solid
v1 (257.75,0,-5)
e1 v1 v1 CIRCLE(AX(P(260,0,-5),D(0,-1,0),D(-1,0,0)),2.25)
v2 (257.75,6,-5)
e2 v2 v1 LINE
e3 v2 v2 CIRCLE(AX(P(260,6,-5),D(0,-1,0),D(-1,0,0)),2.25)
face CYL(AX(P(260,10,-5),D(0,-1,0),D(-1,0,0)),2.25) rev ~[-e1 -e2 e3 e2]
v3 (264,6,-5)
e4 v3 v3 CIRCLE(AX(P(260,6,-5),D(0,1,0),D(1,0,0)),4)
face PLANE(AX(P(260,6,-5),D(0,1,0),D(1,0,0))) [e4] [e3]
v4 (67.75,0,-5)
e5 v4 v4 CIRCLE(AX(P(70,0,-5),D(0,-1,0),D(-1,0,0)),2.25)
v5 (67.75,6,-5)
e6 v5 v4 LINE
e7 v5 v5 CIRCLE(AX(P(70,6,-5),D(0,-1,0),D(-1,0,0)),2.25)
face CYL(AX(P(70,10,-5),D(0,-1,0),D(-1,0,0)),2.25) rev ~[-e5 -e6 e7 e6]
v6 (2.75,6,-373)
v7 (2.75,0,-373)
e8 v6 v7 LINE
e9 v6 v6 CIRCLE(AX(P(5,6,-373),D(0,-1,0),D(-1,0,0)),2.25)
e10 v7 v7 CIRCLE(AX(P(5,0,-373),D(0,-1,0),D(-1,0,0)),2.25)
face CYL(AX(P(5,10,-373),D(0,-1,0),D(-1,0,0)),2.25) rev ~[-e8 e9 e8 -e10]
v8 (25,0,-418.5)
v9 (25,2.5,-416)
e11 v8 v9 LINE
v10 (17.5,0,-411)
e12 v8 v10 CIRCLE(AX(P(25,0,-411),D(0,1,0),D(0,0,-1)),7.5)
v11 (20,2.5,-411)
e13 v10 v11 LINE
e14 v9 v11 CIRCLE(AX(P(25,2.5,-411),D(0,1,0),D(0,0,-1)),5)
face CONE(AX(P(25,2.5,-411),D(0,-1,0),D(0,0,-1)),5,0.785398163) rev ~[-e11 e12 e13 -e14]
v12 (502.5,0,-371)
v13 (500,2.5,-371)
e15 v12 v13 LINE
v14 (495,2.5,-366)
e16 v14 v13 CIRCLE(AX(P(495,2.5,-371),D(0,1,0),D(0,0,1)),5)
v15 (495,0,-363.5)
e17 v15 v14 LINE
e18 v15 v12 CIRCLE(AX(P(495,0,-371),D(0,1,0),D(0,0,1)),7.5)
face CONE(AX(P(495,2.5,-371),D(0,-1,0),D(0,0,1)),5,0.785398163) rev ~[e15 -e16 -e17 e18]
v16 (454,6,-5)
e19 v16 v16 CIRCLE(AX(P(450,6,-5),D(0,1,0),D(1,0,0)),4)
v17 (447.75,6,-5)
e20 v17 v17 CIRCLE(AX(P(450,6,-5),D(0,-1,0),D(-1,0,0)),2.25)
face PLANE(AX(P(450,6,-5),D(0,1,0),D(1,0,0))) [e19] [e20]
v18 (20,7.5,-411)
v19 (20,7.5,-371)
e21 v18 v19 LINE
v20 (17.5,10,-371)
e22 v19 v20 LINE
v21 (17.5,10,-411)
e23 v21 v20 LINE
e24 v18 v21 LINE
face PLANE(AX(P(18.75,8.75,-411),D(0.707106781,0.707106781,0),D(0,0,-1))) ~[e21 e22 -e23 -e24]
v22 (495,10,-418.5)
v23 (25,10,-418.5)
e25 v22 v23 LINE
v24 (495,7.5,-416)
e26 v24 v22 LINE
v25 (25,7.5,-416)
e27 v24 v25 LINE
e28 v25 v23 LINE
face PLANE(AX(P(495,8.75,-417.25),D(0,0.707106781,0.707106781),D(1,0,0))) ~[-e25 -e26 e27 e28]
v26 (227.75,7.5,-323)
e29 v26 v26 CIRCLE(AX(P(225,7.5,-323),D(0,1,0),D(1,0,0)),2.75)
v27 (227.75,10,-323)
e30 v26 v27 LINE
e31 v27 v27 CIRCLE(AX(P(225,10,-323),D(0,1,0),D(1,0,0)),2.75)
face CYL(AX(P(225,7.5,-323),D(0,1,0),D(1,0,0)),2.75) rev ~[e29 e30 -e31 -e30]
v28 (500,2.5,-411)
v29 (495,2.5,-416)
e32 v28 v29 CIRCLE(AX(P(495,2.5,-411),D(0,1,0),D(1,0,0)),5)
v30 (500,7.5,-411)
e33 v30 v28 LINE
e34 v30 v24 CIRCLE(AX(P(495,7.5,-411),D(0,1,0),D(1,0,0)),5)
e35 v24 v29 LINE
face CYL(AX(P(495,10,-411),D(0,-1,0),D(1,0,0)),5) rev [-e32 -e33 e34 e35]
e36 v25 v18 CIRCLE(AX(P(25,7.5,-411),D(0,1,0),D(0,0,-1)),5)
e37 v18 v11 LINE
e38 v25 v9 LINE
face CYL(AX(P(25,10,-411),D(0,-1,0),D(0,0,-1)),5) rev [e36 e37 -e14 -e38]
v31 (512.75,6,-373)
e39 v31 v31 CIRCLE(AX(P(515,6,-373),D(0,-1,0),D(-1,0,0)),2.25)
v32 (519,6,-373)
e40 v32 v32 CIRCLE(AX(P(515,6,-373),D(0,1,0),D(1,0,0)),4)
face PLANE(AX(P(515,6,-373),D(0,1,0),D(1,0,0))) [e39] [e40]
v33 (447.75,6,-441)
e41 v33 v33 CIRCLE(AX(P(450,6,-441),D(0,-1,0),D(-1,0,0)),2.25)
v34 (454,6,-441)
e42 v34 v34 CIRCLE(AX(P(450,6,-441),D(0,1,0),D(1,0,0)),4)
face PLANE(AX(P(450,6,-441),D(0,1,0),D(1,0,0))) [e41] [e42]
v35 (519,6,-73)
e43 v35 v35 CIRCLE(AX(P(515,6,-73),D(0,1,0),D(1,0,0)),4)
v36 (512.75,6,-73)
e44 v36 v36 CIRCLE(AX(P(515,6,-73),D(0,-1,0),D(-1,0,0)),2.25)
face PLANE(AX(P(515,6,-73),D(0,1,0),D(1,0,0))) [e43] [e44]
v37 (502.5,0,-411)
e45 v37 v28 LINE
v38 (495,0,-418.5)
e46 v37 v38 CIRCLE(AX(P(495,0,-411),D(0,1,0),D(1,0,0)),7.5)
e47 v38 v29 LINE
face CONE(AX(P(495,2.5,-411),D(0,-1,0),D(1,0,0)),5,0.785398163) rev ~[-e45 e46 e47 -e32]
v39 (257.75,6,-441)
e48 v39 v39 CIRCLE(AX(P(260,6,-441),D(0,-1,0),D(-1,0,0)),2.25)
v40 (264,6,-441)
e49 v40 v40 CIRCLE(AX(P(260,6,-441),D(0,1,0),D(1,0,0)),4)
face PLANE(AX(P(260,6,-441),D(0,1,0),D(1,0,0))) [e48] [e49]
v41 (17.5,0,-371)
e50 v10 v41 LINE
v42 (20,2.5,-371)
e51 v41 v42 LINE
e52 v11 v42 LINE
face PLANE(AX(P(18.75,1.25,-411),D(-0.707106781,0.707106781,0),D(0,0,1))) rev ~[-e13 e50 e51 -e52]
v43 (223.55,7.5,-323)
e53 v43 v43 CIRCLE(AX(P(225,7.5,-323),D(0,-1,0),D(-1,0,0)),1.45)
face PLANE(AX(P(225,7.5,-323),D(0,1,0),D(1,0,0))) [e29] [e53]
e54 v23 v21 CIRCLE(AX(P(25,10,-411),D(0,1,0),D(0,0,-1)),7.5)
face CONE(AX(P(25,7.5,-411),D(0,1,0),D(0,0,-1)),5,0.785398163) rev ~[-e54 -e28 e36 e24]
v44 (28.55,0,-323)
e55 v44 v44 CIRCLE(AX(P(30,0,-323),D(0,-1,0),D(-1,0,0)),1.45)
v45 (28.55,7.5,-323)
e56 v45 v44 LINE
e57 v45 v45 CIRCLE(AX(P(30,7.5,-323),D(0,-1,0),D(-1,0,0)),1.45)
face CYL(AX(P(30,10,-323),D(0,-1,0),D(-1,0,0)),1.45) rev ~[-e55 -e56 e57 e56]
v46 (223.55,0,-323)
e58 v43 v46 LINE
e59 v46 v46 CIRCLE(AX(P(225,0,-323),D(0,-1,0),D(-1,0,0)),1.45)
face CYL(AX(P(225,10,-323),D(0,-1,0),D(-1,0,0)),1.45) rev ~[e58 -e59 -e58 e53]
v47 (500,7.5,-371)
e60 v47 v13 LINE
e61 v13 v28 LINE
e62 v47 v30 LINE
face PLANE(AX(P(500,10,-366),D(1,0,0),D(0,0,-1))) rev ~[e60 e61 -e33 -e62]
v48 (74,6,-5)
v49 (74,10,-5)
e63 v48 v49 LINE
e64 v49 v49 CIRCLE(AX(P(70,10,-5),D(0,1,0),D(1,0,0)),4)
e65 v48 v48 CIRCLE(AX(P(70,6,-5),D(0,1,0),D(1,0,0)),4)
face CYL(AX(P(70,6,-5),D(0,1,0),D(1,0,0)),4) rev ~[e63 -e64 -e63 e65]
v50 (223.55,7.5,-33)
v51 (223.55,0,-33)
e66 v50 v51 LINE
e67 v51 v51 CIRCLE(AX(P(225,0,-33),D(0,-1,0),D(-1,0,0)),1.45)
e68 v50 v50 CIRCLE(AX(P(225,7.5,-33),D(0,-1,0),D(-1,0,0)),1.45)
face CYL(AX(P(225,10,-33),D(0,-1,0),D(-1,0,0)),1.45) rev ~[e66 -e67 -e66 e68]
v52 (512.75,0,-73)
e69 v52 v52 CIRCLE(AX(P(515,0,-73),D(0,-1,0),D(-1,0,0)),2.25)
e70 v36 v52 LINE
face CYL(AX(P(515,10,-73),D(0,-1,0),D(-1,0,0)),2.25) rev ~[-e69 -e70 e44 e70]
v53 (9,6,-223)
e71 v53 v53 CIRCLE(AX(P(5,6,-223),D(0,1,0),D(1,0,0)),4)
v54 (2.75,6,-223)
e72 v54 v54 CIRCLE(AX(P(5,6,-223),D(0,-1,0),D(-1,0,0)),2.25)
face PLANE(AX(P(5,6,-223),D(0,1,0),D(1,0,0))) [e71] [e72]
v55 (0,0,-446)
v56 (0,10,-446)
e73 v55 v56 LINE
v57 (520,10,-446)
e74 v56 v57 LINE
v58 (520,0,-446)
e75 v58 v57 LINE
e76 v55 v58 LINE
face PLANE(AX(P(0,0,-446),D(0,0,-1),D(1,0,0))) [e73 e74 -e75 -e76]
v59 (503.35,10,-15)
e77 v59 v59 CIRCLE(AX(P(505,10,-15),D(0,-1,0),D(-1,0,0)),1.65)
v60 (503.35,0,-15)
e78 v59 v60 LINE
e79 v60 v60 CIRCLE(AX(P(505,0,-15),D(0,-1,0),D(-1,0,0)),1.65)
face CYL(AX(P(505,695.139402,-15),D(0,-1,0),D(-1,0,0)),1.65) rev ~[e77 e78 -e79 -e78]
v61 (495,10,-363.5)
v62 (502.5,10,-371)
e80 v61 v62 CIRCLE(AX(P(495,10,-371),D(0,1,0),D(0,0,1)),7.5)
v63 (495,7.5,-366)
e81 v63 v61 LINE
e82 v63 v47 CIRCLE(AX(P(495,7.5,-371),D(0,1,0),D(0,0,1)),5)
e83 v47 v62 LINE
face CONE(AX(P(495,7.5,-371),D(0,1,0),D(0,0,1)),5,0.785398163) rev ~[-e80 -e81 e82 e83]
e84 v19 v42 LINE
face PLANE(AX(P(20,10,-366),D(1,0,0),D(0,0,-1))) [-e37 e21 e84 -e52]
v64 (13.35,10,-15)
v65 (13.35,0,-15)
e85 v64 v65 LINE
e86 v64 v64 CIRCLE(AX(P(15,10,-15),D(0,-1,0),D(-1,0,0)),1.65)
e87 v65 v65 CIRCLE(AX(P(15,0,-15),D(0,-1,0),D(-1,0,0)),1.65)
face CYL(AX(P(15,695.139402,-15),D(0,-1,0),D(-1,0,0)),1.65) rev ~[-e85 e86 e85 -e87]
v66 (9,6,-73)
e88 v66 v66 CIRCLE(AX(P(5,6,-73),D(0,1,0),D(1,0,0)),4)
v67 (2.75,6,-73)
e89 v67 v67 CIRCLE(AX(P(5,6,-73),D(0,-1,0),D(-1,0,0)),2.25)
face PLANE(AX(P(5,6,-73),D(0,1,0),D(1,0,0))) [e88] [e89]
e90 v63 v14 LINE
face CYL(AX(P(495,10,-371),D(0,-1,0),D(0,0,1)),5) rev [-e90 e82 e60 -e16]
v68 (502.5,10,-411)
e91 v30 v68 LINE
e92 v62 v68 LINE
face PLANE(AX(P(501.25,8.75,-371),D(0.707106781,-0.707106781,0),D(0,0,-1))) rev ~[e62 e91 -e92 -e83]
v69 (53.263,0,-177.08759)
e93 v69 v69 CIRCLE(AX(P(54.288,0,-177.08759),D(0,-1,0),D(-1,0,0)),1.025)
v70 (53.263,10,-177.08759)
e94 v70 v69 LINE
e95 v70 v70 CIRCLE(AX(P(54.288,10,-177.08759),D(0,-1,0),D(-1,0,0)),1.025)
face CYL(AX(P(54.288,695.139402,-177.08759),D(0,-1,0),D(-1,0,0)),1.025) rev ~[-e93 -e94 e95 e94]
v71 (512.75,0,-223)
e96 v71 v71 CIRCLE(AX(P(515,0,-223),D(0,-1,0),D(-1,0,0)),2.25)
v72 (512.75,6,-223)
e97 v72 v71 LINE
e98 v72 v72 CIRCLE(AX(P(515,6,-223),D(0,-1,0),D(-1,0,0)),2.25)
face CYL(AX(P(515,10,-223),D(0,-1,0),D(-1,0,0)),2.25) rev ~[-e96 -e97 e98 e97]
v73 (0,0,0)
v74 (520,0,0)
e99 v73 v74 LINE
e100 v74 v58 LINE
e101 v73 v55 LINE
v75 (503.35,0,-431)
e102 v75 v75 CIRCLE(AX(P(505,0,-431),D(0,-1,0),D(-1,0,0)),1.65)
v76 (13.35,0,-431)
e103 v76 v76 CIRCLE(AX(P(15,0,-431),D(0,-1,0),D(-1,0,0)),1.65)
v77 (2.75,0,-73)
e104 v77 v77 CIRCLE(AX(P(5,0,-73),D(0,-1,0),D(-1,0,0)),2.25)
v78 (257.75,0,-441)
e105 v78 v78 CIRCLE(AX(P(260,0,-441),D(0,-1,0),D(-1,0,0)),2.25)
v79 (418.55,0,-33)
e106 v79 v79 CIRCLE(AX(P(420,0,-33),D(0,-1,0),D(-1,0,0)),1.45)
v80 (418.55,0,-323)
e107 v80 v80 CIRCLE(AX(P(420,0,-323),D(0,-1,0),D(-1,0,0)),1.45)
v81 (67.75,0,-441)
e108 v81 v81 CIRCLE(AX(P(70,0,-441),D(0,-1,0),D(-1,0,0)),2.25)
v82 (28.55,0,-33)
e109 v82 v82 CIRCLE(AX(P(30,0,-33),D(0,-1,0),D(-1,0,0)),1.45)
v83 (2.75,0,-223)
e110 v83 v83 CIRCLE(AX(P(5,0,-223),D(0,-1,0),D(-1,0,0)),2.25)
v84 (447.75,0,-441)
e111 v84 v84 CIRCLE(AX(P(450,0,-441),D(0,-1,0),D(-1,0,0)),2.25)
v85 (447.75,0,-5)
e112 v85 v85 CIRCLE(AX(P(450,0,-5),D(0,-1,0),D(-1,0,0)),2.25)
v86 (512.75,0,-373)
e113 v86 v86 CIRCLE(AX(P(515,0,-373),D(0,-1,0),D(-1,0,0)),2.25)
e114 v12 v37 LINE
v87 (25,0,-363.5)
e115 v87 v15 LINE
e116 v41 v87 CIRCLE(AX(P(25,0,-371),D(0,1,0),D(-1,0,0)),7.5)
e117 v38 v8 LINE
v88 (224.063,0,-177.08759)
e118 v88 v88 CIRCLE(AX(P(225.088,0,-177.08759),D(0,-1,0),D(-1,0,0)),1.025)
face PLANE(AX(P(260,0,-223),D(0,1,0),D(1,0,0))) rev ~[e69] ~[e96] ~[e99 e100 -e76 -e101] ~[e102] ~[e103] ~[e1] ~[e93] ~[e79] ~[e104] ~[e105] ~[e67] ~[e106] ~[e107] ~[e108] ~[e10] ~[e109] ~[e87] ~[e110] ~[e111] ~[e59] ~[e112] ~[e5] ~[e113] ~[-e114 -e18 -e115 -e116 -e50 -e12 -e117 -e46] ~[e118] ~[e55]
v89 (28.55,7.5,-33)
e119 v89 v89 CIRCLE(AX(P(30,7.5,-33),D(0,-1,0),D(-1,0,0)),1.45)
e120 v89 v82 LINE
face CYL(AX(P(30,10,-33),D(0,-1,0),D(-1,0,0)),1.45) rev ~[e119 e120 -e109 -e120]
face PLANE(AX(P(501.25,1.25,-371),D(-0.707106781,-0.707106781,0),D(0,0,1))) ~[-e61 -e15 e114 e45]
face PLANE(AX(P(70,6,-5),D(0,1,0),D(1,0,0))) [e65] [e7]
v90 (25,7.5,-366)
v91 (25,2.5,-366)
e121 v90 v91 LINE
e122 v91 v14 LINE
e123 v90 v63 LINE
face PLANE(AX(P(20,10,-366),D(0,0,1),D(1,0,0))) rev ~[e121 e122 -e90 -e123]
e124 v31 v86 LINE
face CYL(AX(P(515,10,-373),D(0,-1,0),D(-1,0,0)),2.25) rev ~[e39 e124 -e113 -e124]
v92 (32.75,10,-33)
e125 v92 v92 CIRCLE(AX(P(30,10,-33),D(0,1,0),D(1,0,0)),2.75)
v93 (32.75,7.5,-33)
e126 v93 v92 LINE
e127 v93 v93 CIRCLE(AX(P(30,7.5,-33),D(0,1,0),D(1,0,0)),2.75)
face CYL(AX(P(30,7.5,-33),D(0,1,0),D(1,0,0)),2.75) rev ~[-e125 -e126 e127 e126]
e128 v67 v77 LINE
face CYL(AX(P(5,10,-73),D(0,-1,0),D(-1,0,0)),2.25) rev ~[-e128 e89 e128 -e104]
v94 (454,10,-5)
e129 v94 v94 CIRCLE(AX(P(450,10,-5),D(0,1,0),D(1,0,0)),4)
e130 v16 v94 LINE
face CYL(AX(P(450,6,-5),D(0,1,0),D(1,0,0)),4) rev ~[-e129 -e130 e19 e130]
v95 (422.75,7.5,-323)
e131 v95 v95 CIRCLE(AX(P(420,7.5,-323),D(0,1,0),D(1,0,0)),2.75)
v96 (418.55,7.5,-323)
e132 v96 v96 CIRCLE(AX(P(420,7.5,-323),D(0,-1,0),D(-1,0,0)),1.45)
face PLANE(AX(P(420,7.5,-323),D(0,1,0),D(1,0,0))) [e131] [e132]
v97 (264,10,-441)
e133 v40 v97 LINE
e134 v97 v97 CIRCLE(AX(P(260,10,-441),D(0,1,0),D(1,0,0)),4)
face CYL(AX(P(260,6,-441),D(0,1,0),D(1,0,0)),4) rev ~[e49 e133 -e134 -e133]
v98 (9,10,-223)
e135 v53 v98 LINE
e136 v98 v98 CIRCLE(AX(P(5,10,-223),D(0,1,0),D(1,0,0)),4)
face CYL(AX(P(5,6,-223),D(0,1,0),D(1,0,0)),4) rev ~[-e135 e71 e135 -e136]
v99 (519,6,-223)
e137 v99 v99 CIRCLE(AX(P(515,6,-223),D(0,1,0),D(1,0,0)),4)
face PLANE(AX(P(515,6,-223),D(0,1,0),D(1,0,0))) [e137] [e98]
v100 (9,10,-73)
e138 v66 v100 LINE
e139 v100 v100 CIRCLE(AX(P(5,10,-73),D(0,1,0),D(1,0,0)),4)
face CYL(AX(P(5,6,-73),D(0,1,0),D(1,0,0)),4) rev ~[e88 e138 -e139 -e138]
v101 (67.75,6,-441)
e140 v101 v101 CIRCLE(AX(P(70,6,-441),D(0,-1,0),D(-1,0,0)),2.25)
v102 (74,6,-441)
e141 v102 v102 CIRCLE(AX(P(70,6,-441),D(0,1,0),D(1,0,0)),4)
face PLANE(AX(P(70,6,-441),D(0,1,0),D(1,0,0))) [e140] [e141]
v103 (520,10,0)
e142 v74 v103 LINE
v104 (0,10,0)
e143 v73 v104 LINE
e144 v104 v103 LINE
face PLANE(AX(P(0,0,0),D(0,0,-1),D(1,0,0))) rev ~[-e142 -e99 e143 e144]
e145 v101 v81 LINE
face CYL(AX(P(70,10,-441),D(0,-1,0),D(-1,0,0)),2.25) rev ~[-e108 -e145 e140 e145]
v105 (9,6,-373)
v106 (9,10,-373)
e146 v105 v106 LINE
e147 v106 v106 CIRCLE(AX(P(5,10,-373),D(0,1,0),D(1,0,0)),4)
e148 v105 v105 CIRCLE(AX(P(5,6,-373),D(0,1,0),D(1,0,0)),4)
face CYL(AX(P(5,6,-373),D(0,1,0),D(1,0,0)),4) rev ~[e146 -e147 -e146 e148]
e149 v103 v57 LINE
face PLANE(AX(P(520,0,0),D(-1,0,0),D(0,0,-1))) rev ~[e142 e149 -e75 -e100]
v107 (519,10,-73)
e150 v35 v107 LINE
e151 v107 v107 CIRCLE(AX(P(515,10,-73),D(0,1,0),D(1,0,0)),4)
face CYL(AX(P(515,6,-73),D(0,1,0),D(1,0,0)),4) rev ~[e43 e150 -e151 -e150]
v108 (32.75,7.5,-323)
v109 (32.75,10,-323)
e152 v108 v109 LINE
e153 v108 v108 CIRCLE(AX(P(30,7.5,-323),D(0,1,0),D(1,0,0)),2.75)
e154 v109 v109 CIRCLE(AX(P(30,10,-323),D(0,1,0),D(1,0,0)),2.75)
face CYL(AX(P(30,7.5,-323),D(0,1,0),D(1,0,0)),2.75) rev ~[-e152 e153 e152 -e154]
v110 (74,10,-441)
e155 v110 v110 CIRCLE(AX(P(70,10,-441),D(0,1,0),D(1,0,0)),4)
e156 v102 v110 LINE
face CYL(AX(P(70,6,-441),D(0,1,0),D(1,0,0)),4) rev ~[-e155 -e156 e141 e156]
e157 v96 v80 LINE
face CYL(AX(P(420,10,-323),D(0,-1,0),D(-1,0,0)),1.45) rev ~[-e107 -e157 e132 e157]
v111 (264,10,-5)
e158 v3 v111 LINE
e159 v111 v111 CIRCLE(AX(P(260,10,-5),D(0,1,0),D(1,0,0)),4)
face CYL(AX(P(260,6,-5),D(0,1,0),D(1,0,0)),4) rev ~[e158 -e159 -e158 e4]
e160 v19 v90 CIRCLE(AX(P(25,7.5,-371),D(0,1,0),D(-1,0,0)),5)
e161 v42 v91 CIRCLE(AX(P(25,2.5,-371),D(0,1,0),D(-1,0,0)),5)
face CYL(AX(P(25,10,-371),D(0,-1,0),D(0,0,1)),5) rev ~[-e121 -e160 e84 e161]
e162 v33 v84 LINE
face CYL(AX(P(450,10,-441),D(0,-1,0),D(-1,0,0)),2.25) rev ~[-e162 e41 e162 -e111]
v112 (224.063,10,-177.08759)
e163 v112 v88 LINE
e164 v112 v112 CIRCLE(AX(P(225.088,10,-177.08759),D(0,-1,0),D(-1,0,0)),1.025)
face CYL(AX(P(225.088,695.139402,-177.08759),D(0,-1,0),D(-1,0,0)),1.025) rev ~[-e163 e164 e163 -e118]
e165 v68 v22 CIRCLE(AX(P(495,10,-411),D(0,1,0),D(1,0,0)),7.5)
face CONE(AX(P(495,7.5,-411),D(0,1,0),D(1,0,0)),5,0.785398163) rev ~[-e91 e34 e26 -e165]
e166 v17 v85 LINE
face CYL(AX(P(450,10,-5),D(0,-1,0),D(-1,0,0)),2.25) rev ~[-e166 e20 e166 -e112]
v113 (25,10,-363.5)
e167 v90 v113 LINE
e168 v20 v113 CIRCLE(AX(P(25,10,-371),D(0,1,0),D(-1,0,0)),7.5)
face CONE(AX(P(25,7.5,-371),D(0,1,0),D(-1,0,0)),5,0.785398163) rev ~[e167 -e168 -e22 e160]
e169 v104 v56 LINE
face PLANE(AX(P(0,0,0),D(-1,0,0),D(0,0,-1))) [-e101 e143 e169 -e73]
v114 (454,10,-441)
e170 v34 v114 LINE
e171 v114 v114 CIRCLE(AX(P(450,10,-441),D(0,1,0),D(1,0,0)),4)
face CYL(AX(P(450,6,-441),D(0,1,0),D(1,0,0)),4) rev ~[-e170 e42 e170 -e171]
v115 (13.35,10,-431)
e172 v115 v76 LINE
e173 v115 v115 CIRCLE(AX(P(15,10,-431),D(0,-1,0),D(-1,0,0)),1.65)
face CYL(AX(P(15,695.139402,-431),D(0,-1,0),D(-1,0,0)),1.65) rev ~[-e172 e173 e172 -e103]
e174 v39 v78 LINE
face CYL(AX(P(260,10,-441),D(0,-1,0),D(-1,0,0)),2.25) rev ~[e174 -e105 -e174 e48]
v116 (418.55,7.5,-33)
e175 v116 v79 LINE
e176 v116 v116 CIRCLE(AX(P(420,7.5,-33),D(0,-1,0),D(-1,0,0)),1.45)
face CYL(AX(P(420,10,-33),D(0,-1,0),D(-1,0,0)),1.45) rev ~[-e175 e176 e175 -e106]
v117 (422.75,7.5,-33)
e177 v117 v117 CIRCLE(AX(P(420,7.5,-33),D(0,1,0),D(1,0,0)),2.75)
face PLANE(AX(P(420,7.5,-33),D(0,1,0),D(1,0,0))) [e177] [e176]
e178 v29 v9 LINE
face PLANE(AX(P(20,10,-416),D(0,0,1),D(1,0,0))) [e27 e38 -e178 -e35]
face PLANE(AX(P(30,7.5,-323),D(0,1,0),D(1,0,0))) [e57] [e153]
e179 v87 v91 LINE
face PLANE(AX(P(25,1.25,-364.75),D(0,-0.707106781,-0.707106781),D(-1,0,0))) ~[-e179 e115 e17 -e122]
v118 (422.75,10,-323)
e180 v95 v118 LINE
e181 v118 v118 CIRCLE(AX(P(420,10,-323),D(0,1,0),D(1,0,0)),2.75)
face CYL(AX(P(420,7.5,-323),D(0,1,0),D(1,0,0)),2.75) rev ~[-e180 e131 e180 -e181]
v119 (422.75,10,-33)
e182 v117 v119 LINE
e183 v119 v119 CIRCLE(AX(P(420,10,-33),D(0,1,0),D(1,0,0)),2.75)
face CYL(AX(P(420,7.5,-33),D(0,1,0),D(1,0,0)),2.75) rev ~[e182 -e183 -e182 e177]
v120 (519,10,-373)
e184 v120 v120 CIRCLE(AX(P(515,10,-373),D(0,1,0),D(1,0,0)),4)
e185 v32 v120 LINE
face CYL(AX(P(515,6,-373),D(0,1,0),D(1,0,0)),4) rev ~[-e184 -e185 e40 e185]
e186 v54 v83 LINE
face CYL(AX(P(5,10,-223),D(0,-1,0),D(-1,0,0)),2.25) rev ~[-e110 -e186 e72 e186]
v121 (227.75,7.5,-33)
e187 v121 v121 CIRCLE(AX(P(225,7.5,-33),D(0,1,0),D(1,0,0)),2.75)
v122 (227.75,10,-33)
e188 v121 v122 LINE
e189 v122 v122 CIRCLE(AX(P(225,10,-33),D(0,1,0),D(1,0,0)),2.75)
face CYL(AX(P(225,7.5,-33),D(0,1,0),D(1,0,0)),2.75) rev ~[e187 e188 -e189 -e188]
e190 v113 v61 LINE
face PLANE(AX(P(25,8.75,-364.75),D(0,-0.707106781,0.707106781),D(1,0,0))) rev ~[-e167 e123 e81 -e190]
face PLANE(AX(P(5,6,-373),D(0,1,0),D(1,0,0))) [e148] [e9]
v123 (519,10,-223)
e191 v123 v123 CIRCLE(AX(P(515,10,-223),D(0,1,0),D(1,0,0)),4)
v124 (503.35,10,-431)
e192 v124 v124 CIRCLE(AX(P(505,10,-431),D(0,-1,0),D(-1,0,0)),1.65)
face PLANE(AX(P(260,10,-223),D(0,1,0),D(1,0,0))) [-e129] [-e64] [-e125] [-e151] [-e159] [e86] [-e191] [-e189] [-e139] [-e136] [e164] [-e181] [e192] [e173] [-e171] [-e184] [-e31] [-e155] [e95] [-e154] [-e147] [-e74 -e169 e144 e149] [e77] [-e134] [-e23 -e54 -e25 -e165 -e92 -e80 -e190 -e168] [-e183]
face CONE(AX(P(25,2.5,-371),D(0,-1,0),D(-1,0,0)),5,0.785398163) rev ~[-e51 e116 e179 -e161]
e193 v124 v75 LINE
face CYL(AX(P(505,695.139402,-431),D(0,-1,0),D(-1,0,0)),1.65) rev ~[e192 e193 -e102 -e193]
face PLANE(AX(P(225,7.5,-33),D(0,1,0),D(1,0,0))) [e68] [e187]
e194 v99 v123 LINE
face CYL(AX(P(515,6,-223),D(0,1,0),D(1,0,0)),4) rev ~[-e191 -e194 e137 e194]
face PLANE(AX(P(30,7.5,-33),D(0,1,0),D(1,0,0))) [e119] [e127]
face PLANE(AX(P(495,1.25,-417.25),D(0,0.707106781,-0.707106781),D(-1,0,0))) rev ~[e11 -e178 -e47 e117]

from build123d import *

# Parameters (mm, degrees)
SKETCH1_W                        = 520
SKETCH1_H                        = 446
BOSS_EXTRUDE1_DEPTH              = 10
SKETCH4_W                        = 480
SKETCH4_H                        = 50
CUT_EXTRUDE1_DEPTH               = 10
FILLET1_R                        = 5
CHAMFER1_SIZE                    = 2.5
CBORE_FOR_M4_SHCS1_D             = 4.5
CBORE_FOR_M4_SHCS1_DEPTH         = 12
CBORE_FOR_M4_SHCS1_CBORE_D       = 8
CBORE_FOR_M4_SHCS1_CBORE_DEPTH   = 4
CBORE_FOR_M4_SHCS1_TIP           = 1.351936393
M4X0_7_TAPPED_HOLE1_D            = 3.3
CBORE_FOR_M2_5_SHCS1_D           = 2.9
CBORE_FOR_M2_5_SHCS1_CBORE_D     = 5.5
CBORE_FOR_M2_5_SHCS1_CBORE_DEPTH = 2.5
M2_5X0_45_TAPPED_HOLE1_D         = 2.05


with BuildPart() as part:
    # Sketch1 → Boss-Extrude1 (new body)
    with BuildSketch(Plane(origin=(0, 0, 0), x_dir=(1, 0, 0), z_dir=(0, 1, 0))):
        with Locations((260, 223)):
            Rectangle(SKETCH1_W, SKETCH1_H)
    extrude(amount=BOSS_EXTRUDE1_DEPTH)

    # Sketch4 → Cut-Extrude1 (cut)
    with BuildSketch(Plane(origin=(0, 10, 0), x_dir=(1, 0, 0), z_dir=(0, 1, 0))):
        with Locations((260, 391)):
            Rectangle(SKETCH4_W, SKETCH4_H)
    extrude(amount=-CUT_EXTRUDE1_DEPTH, mode=Mode.SUBTRACT)

    # Fillet1
    fillet1_edges = [part.edges().sort_by_distance(p)[0] for p in [
        (500, 5, -416),
        (500, 5, -366),
        (20, 5, -366),
        (20, 5, -416),
    ]]
    fillet(fillet1_edges, radius=FILLET1_R)

    # Chamfer1
    chamfer1_edges = [part.edges().sort_by_distance(p)[0] for p in [
        (500, 10, -391),
        (500, 0, -391),
        (260, 10, -366),
        (260, 0, -366),
        (20, 10, -391),
        (20, 0, -391),
        (260, 10, -416),
        (260, 0, -416),
        (498.535533906, 10, -367.464466094),
        (498.535533906, 0, -367.464466094),
        (21.464466094, 10, -414.535533906),
        (21.464466094, 0, -414.535533906),
        (498.535533906, 10, -414.535533906),
        (498.535533906, 0, -414.535533906),
        (21.464466094, 10, -367.464466094),
        (21.464466094, 0, -367.464466094),
    ]]
    chamfer(chamfer1_edges, length=CHAMFER1_SIZE)

    # CBORE for M4 SHCS1
    with Locations(Plane(origin=(0, 10, 0), x_dir=(1, 0, 0), z_dir=(0, 1, 0))):
        with Locations((5, 373), (5, 223), (5, 73), (70, 5), (260, 5), (450, 5), (515, 73), (515, 223), (515, 373), (450, 441), (260, 441), (70, 441)):
            CounterBoreHole(CBORE_FOR_M4_SHCS1_D / 2, CBORE_FOR_M4_SHCS1_CBORE_D / 2, CBORE_FOR_M4_SHCS1_CBORE_DEPTH, depth=CBORE_FOR_M4_SHCS1_DEPTH)
            with Locations((0, 0, -(CBORE_FOR_M4_SHCS1_DEPTH + CBORE_FOR_M4_SHCS1_TIP / 2))):  # 118° drill point
                Cone(0, CBORE_FOR_M4_SHCS1_D / 2, CBORE_FOR_M4_SHCS1_TIP, mode=Mode.SUBTRACT)

    # M4x0.7 Tapped Hole1 (through all)
    with Locations(Plane(origin=(0, 10, 0), x_dir=(1, 0, 0), z_dir=(0, 1, 0))):
        with Locations((15, 431), (505, 431), (15, 15), (505, 15)):
            Hole(M4X0_7_TAPPED_HOLE1_D / 2)

    # CBORE for M2.5 SHCS1 (through all)
    with Locations(Plane(origin=(0, 10, 0), x_dir=(1, 0, 0), z_dir=(0, 1, 0))):
        with Locations((30, 33), (225, 33), (420, 33), (420, 323), (225, 323), (30, 323)):
            CounterBoreHole(CBORE_FOR_M2_5_SHCS1_D / 2, CBORE_FOR_M2_5_SHCS1_CBORE_D / 2, CBORE_FOR_M2_5_SHCS1_CBORE_DEPTH)

    # M2.5x0.45 Tapped Hole1 (through all)
    with Locations(Plane(origin=(0, 10, 0), x_dir=(1, 0, 0), z_dir=(0, 1, 0))):
        with Locations((54.288, 177.08759), (225.088, 177.08759)):
            Hole(M2_5X0_45_TAPPED_HOLE1_D / 2)


solid = part.part
